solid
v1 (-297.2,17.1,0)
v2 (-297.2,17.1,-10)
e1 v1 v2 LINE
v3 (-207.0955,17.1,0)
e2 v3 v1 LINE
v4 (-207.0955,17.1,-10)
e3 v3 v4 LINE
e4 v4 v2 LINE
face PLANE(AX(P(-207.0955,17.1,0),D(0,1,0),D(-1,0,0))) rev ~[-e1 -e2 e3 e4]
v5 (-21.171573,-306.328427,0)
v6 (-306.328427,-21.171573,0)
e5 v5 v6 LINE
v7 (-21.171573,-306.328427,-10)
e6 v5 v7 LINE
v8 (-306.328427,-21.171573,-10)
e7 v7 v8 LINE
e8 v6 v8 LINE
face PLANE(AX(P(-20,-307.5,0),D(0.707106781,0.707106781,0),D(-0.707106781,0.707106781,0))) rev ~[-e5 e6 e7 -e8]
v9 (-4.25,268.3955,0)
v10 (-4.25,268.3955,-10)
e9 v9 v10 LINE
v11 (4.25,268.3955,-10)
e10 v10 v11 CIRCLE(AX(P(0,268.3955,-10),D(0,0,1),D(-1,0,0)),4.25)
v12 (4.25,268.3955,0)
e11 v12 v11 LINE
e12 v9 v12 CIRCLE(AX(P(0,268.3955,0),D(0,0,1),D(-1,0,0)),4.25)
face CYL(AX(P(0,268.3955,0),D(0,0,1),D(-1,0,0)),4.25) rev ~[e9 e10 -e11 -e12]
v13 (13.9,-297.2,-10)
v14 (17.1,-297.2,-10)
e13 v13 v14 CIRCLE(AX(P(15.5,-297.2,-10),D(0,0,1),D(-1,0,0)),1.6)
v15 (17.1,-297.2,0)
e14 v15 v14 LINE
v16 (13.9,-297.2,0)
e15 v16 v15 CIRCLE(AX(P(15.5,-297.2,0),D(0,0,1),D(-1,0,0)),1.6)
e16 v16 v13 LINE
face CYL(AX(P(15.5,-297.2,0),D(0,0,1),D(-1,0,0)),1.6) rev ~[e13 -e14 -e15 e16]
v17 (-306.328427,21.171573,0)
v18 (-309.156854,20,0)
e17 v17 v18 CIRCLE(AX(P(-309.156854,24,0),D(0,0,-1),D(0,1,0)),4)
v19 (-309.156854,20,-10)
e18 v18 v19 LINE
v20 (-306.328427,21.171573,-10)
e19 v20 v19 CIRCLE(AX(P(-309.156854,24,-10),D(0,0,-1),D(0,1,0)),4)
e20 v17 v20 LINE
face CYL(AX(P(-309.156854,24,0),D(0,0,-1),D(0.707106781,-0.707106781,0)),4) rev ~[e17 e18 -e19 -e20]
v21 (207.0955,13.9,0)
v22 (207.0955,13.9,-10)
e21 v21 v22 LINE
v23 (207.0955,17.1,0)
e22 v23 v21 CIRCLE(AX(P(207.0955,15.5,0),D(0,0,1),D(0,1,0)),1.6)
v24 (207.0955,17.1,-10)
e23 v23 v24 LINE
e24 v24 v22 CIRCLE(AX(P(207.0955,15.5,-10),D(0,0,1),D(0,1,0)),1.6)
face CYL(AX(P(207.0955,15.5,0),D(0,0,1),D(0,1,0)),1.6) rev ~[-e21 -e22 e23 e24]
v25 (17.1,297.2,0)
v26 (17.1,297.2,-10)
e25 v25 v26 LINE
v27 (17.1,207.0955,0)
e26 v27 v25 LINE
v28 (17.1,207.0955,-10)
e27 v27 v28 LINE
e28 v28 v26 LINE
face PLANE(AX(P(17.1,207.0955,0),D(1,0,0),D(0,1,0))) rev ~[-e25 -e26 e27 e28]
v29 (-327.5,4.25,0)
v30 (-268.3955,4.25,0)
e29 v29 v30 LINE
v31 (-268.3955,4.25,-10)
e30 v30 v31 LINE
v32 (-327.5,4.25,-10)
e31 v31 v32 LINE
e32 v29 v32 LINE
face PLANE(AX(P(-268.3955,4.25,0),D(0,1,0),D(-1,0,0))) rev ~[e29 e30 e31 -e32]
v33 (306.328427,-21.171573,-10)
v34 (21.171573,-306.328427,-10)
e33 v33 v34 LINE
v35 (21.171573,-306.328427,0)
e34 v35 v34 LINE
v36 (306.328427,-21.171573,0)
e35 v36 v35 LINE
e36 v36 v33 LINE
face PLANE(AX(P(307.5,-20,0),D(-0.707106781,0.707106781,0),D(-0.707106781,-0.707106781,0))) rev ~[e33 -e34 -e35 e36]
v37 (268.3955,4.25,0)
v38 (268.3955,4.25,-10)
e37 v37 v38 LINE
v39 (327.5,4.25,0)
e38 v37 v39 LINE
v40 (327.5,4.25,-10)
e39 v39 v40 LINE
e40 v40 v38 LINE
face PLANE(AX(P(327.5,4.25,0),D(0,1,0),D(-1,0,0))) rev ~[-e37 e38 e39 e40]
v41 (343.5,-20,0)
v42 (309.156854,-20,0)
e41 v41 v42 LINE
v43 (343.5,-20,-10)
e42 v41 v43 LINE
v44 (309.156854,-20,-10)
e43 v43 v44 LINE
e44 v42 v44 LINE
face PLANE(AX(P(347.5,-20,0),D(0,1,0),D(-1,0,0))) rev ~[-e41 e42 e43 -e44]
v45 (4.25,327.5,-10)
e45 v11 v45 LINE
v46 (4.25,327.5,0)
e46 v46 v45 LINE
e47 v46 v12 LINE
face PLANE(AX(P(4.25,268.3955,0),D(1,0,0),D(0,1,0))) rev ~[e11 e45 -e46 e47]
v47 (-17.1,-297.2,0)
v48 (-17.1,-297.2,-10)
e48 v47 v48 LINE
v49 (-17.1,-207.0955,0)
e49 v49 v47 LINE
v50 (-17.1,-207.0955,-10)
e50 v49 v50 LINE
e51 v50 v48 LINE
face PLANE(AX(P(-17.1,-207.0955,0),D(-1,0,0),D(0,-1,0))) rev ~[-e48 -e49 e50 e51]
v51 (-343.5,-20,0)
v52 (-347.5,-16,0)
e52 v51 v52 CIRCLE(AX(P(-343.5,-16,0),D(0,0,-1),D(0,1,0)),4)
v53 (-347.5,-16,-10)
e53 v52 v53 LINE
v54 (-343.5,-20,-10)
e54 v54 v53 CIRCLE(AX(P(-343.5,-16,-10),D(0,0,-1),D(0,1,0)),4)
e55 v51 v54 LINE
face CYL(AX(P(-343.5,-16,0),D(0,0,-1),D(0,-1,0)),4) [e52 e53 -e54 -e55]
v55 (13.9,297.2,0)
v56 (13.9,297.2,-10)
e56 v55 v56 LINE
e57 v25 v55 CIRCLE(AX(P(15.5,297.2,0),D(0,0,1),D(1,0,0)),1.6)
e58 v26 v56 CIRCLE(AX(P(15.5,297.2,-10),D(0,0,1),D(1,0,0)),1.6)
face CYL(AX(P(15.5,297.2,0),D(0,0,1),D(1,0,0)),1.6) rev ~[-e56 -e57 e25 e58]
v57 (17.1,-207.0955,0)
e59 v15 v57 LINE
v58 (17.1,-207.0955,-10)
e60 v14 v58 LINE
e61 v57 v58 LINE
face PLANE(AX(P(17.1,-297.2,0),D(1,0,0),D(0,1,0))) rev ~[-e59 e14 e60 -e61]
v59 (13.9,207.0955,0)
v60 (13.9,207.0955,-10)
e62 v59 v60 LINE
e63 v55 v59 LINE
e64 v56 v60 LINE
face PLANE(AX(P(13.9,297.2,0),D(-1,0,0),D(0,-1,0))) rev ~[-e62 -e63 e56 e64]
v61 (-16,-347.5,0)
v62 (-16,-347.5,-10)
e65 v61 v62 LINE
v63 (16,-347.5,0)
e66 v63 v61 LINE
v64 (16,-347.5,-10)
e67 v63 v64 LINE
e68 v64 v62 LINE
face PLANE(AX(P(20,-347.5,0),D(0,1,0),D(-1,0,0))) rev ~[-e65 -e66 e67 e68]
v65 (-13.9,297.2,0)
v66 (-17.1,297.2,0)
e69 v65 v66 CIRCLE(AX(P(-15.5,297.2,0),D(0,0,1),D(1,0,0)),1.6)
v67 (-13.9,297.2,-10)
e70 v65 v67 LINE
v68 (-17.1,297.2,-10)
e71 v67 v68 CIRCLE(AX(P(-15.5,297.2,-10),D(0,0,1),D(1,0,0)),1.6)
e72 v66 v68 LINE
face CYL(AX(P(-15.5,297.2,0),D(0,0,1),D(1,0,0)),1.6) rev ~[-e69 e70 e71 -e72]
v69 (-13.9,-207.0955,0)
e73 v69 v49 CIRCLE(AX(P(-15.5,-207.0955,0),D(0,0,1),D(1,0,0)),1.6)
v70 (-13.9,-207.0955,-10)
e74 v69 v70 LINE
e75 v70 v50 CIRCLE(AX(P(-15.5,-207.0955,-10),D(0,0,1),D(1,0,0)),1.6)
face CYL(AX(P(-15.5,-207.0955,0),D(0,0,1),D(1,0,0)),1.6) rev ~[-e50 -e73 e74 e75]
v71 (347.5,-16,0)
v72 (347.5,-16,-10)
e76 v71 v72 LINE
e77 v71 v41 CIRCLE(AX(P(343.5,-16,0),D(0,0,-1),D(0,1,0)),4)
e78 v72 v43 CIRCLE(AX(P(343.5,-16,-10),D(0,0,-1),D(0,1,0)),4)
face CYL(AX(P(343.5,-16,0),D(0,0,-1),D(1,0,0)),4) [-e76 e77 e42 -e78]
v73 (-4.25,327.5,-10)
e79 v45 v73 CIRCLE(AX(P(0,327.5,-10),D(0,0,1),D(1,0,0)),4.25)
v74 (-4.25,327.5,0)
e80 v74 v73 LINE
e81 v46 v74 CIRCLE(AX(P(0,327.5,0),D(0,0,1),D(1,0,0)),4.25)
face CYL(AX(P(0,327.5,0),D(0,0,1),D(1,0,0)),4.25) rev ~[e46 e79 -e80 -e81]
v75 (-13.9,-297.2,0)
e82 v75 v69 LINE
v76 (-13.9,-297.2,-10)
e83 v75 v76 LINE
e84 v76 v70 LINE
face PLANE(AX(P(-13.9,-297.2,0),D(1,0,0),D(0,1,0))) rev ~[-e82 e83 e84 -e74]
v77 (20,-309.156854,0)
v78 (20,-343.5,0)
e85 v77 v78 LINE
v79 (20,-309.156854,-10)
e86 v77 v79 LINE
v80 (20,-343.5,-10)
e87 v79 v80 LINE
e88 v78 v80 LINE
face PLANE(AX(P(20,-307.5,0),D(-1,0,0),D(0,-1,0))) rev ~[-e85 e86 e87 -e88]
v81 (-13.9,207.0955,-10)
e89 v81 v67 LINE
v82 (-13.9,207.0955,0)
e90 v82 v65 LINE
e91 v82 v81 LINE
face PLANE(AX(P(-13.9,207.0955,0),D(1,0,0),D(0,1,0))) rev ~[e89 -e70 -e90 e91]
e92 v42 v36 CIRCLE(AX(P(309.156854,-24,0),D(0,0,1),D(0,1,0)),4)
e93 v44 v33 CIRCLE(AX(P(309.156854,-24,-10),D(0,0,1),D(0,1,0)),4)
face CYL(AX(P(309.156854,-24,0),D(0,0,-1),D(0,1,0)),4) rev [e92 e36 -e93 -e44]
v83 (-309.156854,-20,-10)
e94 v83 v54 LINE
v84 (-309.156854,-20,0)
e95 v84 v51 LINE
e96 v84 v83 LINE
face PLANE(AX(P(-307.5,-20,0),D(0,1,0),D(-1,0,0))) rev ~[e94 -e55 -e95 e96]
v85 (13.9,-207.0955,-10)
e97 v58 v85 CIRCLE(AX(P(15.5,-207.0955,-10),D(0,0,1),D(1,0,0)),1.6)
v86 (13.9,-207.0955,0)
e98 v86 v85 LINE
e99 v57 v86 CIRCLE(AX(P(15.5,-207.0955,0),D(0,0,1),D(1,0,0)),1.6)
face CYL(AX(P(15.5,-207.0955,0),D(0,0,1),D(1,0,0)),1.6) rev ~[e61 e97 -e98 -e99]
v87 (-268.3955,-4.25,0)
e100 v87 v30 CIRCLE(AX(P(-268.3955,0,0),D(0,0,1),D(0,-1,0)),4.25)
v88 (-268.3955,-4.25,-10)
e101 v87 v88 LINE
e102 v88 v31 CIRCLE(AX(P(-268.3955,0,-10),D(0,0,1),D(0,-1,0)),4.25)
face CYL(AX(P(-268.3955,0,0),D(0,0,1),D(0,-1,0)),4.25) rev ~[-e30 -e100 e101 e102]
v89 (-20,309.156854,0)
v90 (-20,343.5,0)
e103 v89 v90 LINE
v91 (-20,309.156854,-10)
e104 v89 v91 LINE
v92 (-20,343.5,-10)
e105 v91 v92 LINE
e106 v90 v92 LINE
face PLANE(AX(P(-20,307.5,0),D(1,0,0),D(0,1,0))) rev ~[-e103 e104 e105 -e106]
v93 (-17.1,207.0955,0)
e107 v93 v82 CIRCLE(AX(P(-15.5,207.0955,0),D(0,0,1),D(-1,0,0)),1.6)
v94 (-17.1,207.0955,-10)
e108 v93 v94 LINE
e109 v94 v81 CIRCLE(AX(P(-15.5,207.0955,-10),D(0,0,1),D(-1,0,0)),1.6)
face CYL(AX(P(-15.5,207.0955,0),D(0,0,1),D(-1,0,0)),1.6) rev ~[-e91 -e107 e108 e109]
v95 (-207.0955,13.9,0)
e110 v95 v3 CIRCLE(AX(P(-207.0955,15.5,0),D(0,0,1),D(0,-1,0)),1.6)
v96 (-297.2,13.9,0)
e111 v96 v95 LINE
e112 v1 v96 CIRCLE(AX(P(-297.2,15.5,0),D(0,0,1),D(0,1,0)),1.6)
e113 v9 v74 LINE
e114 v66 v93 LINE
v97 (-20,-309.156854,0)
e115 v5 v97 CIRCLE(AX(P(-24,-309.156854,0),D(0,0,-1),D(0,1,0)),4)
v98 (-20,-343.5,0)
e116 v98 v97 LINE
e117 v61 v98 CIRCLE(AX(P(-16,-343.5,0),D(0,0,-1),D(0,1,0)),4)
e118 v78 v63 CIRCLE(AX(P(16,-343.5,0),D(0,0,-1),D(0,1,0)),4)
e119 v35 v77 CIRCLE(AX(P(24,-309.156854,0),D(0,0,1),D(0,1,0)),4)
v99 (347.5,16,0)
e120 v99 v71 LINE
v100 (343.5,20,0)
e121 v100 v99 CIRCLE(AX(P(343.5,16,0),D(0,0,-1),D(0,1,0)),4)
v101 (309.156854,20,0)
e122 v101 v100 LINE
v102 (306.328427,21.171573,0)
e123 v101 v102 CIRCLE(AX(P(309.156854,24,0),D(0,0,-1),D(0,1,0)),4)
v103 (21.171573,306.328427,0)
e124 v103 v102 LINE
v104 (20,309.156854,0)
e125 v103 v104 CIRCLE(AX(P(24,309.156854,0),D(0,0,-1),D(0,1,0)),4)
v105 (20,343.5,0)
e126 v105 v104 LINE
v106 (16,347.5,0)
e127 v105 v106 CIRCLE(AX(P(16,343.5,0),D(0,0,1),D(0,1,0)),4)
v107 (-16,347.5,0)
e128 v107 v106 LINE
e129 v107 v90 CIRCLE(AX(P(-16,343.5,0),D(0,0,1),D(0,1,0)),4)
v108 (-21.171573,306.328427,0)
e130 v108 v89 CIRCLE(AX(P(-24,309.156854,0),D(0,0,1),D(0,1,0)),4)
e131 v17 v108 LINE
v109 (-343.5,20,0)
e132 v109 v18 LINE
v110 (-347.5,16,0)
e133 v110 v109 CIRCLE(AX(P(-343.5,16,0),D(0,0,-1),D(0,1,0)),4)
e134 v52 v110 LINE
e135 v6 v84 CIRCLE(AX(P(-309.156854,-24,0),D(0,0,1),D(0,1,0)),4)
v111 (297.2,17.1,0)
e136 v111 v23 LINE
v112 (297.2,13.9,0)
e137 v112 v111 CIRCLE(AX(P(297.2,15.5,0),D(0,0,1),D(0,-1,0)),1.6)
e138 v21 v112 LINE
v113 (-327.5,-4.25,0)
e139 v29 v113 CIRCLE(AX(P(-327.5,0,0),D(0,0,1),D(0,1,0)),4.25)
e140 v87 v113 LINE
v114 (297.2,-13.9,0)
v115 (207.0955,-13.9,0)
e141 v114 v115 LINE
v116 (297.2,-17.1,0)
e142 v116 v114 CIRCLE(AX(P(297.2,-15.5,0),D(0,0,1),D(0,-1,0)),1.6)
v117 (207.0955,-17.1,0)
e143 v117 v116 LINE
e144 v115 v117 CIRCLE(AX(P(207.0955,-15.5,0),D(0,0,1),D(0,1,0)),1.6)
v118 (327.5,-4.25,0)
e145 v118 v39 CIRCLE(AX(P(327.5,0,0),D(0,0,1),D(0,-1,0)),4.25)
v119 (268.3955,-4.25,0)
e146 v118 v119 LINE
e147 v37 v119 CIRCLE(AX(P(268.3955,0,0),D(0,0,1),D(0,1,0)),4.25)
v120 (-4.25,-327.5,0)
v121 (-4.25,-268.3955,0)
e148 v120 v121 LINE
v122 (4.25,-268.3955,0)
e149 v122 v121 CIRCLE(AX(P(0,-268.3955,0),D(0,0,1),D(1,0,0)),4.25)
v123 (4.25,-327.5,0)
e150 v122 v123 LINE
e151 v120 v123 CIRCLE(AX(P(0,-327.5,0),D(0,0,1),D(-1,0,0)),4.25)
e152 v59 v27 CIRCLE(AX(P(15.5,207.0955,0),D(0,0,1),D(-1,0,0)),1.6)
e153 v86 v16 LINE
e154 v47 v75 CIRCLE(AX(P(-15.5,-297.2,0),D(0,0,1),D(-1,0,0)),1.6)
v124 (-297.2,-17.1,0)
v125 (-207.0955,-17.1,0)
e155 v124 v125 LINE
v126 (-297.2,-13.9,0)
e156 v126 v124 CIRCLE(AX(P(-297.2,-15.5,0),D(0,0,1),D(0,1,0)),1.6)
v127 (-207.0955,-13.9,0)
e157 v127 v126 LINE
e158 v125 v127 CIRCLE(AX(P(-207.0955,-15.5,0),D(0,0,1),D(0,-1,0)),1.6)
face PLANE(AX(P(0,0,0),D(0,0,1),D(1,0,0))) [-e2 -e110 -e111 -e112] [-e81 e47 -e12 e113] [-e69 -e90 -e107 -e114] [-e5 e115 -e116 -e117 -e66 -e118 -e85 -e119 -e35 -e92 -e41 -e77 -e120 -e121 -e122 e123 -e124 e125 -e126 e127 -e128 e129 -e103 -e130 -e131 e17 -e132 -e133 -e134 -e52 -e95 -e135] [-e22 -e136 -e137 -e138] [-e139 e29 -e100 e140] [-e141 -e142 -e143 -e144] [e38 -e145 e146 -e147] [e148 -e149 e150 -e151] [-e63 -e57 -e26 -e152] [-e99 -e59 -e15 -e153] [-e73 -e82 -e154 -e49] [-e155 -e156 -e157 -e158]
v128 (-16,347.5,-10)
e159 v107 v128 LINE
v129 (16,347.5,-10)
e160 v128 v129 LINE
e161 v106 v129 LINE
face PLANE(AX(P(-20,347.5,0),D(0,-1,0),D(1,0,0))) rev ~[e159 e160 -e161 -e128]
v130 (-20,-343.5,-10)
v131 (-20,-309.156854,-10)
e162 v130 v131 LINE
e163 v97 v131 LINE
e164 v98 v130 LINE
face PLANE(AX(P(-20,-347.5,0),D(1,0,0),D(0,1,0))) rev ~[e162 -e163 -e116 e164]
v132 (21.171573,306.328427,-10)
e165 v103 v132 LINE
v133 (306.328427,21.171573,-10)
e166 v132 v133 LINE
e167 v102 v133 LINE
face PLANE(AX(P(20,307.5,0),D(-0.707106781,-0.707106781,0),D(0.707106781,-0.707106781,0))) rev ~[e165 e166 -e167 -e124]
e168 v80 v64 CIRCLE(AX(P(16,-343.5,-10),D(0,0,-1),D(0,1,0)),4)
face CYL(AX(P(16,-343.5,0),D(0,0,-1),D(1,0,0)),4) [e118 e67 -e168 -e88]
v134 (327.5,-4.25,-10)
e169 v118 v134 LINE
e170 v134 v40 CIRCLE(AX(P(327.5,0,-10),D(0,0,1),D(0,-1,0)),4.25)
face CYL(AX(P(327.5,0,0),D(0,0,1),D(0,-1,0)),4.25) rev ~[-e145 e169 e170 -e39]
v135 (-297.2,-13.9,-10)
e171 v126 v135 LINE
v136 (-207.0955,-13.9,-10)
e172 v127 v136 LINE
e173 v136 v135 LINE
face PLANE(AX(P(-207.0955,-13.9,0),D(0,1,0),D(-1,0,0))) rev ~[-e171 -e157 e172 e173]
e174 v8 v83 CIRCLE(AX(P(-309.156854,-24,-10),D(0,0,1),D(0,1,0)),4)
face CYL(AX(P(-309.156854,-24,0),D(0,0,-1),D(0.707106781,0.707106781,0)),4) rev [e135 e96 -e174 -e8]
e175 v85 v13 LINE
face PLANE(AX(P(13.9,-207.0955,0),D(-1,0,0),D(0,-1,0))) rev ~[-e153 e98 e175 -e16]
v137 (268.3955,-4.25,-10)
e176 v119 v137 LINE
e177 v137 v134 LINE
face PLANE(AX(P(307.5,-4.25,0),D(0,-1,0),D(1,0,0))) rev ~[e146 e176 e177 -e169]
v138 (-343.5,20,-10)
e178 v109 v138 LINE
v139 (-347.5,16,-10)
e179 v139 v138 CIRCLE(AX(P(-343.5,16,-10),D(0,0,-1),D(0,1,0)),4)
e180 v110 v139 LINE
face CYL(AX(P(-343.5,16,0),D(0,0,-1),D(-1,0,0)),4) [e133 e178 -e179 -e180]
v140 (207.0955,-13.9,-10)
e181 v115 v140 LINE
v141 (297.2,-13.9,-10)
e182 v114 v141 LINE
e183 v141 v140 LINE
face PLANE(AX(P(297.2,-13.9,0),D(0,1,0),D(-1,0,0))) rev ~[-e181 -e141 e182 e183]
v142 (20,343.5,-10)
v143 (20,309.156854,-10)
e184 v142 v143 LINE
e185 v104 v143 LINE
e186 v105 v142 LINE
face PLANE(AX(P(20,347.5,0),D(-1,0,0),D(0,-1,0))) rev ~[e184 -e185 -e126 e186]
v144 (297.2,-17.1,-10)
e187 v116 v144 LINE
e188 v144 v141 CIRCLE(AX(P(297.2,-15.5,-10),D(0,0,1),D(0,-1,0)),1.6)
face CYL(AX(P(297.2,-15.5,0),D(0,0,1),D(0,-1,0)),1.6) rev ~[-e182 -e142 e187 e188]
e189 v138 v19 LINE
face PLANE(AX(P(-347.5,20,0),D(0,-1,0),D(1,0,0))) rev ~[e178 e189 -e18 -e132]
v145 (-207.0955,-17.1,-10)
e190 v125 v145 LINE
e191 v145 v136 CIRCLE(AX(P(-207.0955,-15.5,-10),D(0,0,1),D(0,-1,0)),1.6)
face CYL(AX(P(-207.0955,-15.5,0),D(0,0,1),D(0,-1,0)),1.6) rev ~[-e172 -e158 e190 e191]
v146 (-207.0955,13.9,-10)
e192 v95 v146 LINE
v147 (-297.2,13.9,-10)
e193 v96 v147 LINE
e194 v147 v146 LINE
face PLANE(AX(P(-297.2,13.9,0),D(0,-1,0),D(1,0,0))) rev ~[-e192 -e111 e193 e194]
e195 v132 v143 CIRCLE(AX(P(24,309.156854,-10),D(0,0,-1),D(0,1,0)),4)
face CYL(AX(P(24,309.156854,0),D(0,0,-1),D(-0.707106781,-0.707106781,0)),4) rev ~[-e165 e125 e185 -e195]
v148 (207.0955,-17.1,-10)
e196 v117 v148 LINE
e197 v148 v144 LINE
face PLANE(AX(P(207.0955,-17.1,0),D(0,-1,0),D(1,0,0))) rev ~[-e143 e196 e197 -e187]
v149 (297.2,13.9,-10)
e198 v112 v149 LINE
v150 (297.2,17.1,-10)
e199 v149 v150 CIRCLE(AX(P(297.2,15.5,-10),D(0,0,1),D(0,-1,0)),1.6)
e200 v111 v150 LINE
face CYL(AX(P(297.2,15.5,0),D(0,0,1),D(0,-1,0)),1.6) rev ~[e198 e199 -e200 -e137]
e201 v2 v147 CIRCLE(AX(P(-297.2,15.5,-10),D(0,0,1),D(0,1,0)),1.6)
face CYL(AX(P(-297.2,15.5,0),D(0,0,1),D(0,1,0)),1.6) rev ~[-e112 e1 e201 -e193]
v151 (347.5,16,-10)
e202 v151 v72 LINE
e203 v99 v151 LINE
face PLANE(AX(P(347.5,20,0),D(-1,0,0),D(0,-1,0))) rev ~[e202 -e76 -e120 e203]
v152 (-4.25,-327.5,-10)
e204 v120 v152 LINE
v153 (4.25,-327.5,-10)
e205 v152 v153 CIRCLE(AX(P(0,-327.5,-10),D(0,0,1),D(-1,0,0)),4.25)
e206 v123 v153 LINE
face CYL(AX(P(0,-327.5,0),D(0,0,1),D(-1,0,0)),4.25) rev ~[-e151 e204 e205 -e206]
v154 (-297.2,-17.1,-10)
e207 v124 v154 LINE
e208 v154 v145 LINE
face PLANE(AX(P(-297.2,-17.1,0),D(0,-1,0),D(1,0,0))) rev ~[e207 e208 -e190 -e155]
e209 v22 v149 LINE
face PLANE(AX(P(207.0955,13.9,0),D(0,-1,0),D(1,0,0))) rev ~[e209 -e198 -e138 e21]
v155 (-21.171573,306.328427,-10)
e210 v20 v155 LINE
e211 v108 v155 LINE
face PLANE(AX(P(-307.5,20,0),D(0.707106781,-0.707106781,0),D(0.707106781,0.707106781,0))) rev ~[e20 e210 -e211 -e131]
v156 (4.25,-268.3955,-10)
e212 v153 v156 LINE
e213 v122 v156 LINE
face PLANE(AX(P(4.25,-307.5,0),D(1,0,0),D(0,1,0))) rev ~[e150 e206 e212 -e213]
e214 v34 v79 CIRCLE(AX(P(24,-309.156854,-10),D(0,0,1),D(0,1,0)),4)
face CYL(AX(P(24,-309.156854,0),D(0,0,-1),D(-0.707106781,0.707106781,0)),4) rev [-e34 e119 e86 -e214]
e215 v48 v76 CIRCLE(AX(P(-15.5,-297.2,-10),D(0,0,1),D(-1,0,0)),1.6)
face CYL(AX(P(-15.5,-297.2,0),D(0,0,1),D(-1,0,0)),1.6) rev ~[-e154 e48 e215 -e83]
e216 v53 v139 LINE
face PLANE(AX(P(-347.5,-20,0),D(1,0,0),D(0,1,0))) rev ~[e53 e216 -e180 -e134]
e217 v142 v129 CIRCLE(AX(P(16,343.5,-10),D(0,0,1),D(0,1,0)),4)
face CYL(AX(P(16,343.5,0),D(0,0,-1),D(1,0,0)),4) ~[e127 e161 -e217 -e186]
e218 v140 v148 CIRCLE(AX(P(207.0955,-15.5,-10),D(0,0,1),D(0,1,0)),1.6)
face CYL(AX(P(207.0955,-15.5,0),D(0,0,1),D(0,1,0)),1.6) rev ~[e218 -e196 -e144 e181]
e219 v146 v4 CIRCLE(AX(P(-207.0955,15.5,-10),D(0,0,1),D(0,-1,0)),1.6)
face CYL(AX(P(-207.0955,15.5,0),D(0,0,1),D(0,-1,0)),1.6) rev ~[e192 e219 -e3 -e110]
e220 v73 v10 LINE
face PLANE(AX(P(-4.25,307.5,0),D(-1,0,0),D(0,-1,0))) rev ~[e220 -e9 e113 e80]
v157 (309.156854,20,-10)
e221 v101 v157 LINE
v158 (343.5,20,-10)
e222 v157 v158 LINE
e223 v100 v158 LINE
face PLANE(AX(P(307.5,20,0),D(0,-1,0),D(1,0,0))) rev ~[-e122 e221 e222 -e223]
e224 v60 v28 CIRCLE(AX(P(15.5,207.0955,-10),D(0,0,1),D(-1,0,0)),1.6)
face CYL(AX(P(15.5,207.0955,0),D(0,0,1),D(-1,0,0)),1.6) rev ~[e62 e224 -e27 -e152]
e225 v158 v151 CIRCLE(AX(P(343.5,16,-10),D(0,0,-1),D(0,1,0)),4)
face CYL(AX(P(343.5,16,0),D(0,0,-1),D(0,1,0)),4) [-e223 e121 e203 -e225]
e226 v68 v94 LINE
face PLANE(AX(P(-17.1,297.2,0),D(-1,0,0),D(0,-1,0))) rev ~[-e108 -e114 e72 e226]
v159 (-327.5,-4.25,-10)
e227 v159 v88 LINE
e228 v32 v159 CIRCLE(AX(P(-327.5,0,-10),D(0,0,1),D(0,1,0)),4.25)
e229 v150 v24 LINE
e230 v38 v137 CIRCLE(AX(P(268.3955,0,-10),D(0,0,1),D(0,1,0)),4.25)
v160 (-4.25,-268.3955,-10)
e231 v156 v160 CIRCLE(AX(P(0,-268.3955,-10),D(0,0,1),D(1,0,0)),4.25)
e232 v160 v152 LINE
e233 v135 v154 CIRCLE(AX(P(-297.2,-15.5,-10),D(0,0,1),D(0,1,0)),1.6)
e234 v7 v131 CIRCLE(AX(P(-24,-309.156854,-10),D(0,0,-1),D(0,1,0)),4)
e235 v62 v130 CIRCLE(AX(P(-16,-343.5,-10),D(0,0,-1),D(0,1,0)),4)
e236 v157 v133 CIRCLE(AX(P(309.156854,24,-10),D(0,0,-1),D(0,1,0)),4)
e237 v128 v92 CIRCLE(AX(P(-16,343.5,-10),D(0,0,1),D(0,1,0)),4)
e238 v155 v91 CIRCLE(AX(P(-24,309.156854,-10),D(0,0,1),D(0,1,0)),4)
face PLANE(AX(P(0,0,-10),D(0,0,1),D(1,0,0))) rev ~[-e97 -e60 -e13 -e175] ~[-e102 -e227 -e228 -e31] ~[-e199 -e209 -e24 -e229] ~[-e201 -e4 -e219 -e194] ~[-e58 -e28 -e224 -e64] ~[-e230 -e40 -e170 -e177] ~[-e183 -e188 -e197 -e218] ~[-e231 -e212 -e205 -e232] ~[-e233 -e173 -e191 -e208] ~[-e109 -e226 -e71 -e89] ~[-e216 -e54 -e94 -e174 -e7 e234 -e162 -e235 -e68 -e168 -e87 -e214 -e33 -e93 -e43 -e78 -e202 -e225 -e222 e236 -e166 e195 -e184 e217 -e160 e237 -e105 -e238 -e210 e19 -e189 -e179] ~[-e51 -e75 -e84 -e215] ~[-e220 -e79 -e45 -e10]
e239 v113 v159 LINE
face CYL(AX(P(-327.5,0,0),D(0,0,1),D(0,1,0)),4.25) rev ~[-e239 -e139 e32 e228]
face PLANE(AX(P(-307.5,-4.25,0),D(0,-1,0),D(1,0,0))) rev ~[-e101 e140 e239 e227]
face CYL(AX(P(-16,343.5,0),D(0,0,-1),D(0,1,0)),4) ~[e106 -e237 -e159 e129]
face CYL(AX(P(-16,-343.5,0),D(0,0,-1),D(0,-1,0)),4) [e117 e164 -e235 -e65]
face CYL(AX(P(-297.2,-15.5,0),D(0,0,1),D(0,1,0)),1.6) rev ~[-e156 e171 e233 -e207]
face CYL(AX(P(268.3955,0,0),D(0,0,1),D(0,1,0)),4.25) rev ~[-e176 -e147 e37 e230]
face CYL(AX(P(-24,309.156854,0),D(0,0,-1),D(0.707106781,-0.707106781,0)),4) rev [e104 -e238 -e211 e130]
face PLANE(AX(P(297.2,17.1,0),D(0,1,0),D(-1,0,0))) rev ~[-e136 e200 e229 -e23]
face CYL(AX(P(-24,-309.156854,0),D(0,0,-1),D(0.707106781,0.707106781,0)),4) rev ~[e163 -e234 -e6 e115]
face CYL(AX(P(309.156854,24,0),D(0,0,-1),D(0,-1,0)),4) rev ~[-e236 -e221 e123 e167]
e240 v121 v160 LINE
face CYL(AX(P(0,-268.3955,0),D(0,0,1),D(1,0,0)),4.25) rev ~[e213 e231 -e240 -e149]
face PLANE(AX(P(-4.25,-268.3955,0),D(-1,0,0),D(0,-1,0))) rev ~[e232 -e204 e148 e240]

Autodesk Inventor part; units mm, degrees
ref_plane "YZ Plane" through (0, 0, 0) normal (1, 0, 0) x (0, 1, 0)
ref_plane "XZ Plane" through (0, 0, 0) normal (0, 1, 0) x (-1, 0, 0)
ref_plane "XY Plane" through (0, 0, 0) normal (0, 0, 1) x (1, 0, 0)
sketch "Sketch2" plane through (0, 0, 0) normal (0, 0, 1) x (1, 0, 0)
  line L0 (307.5, 20) -> (347.5, 20)
  line L1 (347.5, 20) -> (347.5, -20)
  line L2 (347.5, -20) -> (307.5, -20)
  line L3 (307.5, -20) -> (307.5, 20)
  line L4 (307.5, 20) -> (347.5, -20) construction
  line L5 (347.5, 20) -> (307.5, -20) construction
  line L6 (327.5, 0) -> (-327.5, 0) construction
  line L7 (0, -327.5) -> (0, 327.5) construction
  line L8 (327.5, 0) -> (268.3955, 0) construction
  line L9 (327.5, 4.25) -> (268.3955, 4.25)
  line L10 (268.3955, -4.25) -> (327.5, -4.25)
  arc A0 (327.5, -4.25) -> (327.5, 4.25) centre (327.5, 0) ccw
  arc A1 (268.3955, 4.25) -> (268.3955, -4.25) centre (268.3955, 0) ccw
  line L11 (207.0955, 15.5) -> (297.2, 15.5) construction
  line L12 (207.0955, 13.9) -> (297.2, 13.9)
  line L13 (297.2, 17.1) -> (207.0955, 17.1)
  arc A2 (207.0955, 17.1) -> (207.0955, 13.9) centre (207.0955, 15.5) ccw
  arc A3 (297.2, 13.9) -> (297.2, 17.1) centre (297.2, 15.5) ccw
  line L14 (207.0955, -15.5) -> (297.2, -15.5) construction
  line L15 (207.0955, -17.1) -> (297.2, -17.1)
  line L16 (297.2, -13.9) -> (207.0955, -13.9)
  arc A4 (207.0955, -13.9) -> (207.0955, -17.1) centre (207.0955, -15.5) ccw
  arc A5 (297.2, -17.1) -> (297.2, -13.9) centre (297.2, -15.5) ccw
  arc A6 (-4.25, 268.3955) -> (4.25, 268.3955) centre (0, 268.3955) ccw
  line L17 (-13.9, 207.0955) -> (-13.9, 297.2)
  line L18 (-15.5, 207.0955) -> (-15.5, 297.2) construction
  line L19 (-17.1, 297.2) -> (-17.1, 207.0955)
  line L20 (17.1, 207.0955) -> (17.1, 297.2)
  line L21 (13.9, 297.2) -> (13.9, 207.0955)
  arc A7 (17.1, 297.2) -> (13.9, 297.2) centre (15.5, 297.2) ccw
  line L22 (20, 307.5) -> (-20, 307.5)
  line L23 (15.5, 207.0955) -> (15.5, 297.2) construction
  arc A8 (-17.1, 207.0955) -> (-13.9, 207.0955) centre (-15.5, 207.0955) ccw
  arc A9 (13.9, 207.0955) -> (17.1, 207.0955) centre (15.5, 207.0955) ccw
  line L24 (-20, 307.5) -> (-20, 347.5)
  line L25 (-20, 347.5) -> (20, 347.5)
  line L26 (20, 347.5) -> (20, 307.5)
  line L27 (-20, 307.5) -> (20, 347.5) construction
  line L28 (-20, 347.5) -> (20, 307.5) construction
  arc A10 (-13.9, 297.2) -> (-17.1, 297.2) centre (-15.5, 297.2) ccw
  line L29 (0, 327.5) -> (0, 268.3955) construction
  line L30 (4.25, 268.3955) -> (4.25, 327.5)
  arc A11 (4.25, 327.5) -> (-4.25, 327.5) centre (0, 327.5) ccw
  line L31 (-4.25, 327.5) -> (-4.25, 268.3955)
  arc A12 (-268.3955, -4.25) -> (-268.3955, 4.25) centre (-268.3955, 0) ccw
  line L32 (-207.0955, -13.9) -> (-297.2, -13.9)
  line L33 (-207.0955, -15.5) -> (-297.2, -15.5) construction
  line L34 (-297.2, -17.1) -> (-207.0955, -17.1)
  line L35 (-207.0955, 17.1) -> (-297.2, 17.1)
  line L36 (-297.2, 13.9) -> (-207.0955, 13.9)
  arc A13 (-297.2, 17.1) -> (-297.2, 13.9) centre (-297.2, 15.5) ccw
  line L37 (-307.5, 20) -> (-307.5, -20)
  line L38 (-207.0955, 15.5) -> (-297.2, 15.5) construction
  arc A14 (-207.0955, -17.1) -> (-207.0955, -13.9) centre (-207.0955, -15.5) ccw
  arc A15 (-207.0955, 13.9) -> (-207.0955, 17.1) centre (-207.0955, 15.5) ccw
  line L39 (-307.5, -20) -> (-347.5, -20)
  line L40 (-347.5, -20) -> (-347.5, 20)
  line L41 (-347.5, 20) -> (-307.5, 20)
  line L42 (-307.5, -20) -> (-347.5, 20) construction
  line L43 (-347.5, -20) -> (-307.5, 20) construction
  arc A16 (-297.2, -13.9) -> (-297.2, -17.1) centre (-297.2, -15.5) ccw
  line L44 (-327.5, 0) -> (-268.3955, 0) construction
  line L45 (-268.3955, 4.25) -> (-327.5, 4.25)
  arc A17 (-327.5, 4.25) -> (-327.5, -4.25) centre (-327.5, 0) ccw
  line L46 (-327.5, -4.25) -> (-268.3955, -4.25)
  arc A18 (4.25, -268.3955) -> (-4.25, -268.3955) centre (0, -268.3955) ccw
  line L47 (13.9, -207.0955) -> (13.9, -297.2)
  line L48 (15.5, -207.0955) -> (15.5, -297.2) construction
  line L49 (17.1, -297.2) -> (17.1, -207.0955)
  line L50 (-17.1, -207.0955) -> (-17.1, -297.2)
  line L51 (-13.9, -297.2) -> (-13.9, -207.0955)
  arc A19 (-17.1, -297.2) -> (-13.9, -297.2) centre (-15.5, -297.2) ccw
  line L52 (-20, -307.5) -> (20, -307.5)
  line L53 (-15.5, -207.0955) -> (-15.5, -297.2) construction
  arc A20 (17.1, -207.0955) -> (13.9, -207.0955) centre (15.5, -207.0955) ccw
  arc A21 (-13.9, -207.0955) -> (-17.1, -207.0955) centre (-15.5, -207.0955) ccw
  line L54 (20, -307.5) -> (20, -347.5)
  line L55 (20, -347.5) -> (-20, -347.5)
  line L56 (-20, -347.5) -> (-20, -307.5)
  line L57 (20, -307.5) -> (-20, -347.5) construction
  line L58 (20, -347.5) -> (-20, -307.5) construction
  arc A22 (13.9, -297.2) -> (17.1, -297.2) centre (15.5, -297.2) ccw
  line L59 (0, -327.5) -> (0, -268.3955) construction
  line L60 (-4.25, -268.3955) -> (-4.25, -327.5)
  arc A23 (-4.25, -327.5) -> (4.25, -327.5) centre (0, -327.5) ccw
  line L61 (4.25, -327.5) -> (4.25, -268.3955)
  line L62 (-307.5, 20) -> (-20, 307.5)
  line L63 (20, 307.5) -> (307.5, 20)
  line L64 (307.5, -20) -> (20, -307.5)
  line L65 (-20, -307.5) -> (-307.5, -20)
  point P0 (0, 0)
  point P1 (297.9478, 0)
  point P2 (252.1478, 15.5)
  point P3 (252.1478, -15.5)
  point P4 (15.5, 252.1478)
  point P5 (-15.5, 252.1478)
  point P6 (0, 297.9478)
  point P7 (-252.1478, 15.5)
  point P8 (-252.1478, -15.5)
  point P9 (-297.9478, 0)
  point P10 (-15.5, -252.1478)
  point P11 (15.5, -252.1478)
  point P12 (0, -297.9478)
  dimension "d148" = 40
  dimension "d149" = 655
  dimension "d154" = 59.1045
  dimension "d155" = 8.5
  dimension "d156" = 90.1045
  dimension "d157" = 3.2
  dimension "d171" = 31
  dimension "d172" = 10.3
  dimension "d173" = 10.3
  dimension "d176" = 360
extrude "Extrusion10" add sketch "Sketch2" against normal blind 10 contours L0 L1 L2 L3 L10 A0 L9 | L3 L9 A1 L10 L64 L52 L61 A18 L60 L65 L37 L46 A12 L45 L62 L22 L31 A6 L30 L63 | L22 L30 A11 L31 L24 L25 L26 | L54 L55 L56 L52 L60 A23 L61 | L37 L45 A17 L46 L39 L40 L41
fillet "Fillet8" radius 4 16 edges at (20, 347.5, -5) (-20, 347.5, -5) (-20, 307.5, -5) (-307.5, 20, -5) (-347.5, 20, -5) (-347.5, -20, -5) (347.5, 20, -5) (-20, -307.5, -5) (-20, -347.5, -5) (20, 307.5, -5) (20, -347.5, -5) (347.5, -20, -5) (307.5, -20, -5) (20, -307.5, -5) (307.5, 20, -5) (-307.5, -20, -5)
equation "\"ring_inner_diam\" = 565"
equation "\"ring_outer_diam\" = 615"
equation "\"dist_motor_bar\" = 10.3"
equation "\"motor_slot_diam\" = 3.2"
equation "\"motor_slot_length\" = 90.1045"
equation "\"bar_slot_diam\" = 8.5"
equation "\"bar_slot_length\" = 59.1045"
equation "\"diag_dist_bar_holes_old_fridge\" = 536.791"
equation "\"motor_dist_slots\" = 31"
properties part number "base_plate" material "Aluminum 6061"
